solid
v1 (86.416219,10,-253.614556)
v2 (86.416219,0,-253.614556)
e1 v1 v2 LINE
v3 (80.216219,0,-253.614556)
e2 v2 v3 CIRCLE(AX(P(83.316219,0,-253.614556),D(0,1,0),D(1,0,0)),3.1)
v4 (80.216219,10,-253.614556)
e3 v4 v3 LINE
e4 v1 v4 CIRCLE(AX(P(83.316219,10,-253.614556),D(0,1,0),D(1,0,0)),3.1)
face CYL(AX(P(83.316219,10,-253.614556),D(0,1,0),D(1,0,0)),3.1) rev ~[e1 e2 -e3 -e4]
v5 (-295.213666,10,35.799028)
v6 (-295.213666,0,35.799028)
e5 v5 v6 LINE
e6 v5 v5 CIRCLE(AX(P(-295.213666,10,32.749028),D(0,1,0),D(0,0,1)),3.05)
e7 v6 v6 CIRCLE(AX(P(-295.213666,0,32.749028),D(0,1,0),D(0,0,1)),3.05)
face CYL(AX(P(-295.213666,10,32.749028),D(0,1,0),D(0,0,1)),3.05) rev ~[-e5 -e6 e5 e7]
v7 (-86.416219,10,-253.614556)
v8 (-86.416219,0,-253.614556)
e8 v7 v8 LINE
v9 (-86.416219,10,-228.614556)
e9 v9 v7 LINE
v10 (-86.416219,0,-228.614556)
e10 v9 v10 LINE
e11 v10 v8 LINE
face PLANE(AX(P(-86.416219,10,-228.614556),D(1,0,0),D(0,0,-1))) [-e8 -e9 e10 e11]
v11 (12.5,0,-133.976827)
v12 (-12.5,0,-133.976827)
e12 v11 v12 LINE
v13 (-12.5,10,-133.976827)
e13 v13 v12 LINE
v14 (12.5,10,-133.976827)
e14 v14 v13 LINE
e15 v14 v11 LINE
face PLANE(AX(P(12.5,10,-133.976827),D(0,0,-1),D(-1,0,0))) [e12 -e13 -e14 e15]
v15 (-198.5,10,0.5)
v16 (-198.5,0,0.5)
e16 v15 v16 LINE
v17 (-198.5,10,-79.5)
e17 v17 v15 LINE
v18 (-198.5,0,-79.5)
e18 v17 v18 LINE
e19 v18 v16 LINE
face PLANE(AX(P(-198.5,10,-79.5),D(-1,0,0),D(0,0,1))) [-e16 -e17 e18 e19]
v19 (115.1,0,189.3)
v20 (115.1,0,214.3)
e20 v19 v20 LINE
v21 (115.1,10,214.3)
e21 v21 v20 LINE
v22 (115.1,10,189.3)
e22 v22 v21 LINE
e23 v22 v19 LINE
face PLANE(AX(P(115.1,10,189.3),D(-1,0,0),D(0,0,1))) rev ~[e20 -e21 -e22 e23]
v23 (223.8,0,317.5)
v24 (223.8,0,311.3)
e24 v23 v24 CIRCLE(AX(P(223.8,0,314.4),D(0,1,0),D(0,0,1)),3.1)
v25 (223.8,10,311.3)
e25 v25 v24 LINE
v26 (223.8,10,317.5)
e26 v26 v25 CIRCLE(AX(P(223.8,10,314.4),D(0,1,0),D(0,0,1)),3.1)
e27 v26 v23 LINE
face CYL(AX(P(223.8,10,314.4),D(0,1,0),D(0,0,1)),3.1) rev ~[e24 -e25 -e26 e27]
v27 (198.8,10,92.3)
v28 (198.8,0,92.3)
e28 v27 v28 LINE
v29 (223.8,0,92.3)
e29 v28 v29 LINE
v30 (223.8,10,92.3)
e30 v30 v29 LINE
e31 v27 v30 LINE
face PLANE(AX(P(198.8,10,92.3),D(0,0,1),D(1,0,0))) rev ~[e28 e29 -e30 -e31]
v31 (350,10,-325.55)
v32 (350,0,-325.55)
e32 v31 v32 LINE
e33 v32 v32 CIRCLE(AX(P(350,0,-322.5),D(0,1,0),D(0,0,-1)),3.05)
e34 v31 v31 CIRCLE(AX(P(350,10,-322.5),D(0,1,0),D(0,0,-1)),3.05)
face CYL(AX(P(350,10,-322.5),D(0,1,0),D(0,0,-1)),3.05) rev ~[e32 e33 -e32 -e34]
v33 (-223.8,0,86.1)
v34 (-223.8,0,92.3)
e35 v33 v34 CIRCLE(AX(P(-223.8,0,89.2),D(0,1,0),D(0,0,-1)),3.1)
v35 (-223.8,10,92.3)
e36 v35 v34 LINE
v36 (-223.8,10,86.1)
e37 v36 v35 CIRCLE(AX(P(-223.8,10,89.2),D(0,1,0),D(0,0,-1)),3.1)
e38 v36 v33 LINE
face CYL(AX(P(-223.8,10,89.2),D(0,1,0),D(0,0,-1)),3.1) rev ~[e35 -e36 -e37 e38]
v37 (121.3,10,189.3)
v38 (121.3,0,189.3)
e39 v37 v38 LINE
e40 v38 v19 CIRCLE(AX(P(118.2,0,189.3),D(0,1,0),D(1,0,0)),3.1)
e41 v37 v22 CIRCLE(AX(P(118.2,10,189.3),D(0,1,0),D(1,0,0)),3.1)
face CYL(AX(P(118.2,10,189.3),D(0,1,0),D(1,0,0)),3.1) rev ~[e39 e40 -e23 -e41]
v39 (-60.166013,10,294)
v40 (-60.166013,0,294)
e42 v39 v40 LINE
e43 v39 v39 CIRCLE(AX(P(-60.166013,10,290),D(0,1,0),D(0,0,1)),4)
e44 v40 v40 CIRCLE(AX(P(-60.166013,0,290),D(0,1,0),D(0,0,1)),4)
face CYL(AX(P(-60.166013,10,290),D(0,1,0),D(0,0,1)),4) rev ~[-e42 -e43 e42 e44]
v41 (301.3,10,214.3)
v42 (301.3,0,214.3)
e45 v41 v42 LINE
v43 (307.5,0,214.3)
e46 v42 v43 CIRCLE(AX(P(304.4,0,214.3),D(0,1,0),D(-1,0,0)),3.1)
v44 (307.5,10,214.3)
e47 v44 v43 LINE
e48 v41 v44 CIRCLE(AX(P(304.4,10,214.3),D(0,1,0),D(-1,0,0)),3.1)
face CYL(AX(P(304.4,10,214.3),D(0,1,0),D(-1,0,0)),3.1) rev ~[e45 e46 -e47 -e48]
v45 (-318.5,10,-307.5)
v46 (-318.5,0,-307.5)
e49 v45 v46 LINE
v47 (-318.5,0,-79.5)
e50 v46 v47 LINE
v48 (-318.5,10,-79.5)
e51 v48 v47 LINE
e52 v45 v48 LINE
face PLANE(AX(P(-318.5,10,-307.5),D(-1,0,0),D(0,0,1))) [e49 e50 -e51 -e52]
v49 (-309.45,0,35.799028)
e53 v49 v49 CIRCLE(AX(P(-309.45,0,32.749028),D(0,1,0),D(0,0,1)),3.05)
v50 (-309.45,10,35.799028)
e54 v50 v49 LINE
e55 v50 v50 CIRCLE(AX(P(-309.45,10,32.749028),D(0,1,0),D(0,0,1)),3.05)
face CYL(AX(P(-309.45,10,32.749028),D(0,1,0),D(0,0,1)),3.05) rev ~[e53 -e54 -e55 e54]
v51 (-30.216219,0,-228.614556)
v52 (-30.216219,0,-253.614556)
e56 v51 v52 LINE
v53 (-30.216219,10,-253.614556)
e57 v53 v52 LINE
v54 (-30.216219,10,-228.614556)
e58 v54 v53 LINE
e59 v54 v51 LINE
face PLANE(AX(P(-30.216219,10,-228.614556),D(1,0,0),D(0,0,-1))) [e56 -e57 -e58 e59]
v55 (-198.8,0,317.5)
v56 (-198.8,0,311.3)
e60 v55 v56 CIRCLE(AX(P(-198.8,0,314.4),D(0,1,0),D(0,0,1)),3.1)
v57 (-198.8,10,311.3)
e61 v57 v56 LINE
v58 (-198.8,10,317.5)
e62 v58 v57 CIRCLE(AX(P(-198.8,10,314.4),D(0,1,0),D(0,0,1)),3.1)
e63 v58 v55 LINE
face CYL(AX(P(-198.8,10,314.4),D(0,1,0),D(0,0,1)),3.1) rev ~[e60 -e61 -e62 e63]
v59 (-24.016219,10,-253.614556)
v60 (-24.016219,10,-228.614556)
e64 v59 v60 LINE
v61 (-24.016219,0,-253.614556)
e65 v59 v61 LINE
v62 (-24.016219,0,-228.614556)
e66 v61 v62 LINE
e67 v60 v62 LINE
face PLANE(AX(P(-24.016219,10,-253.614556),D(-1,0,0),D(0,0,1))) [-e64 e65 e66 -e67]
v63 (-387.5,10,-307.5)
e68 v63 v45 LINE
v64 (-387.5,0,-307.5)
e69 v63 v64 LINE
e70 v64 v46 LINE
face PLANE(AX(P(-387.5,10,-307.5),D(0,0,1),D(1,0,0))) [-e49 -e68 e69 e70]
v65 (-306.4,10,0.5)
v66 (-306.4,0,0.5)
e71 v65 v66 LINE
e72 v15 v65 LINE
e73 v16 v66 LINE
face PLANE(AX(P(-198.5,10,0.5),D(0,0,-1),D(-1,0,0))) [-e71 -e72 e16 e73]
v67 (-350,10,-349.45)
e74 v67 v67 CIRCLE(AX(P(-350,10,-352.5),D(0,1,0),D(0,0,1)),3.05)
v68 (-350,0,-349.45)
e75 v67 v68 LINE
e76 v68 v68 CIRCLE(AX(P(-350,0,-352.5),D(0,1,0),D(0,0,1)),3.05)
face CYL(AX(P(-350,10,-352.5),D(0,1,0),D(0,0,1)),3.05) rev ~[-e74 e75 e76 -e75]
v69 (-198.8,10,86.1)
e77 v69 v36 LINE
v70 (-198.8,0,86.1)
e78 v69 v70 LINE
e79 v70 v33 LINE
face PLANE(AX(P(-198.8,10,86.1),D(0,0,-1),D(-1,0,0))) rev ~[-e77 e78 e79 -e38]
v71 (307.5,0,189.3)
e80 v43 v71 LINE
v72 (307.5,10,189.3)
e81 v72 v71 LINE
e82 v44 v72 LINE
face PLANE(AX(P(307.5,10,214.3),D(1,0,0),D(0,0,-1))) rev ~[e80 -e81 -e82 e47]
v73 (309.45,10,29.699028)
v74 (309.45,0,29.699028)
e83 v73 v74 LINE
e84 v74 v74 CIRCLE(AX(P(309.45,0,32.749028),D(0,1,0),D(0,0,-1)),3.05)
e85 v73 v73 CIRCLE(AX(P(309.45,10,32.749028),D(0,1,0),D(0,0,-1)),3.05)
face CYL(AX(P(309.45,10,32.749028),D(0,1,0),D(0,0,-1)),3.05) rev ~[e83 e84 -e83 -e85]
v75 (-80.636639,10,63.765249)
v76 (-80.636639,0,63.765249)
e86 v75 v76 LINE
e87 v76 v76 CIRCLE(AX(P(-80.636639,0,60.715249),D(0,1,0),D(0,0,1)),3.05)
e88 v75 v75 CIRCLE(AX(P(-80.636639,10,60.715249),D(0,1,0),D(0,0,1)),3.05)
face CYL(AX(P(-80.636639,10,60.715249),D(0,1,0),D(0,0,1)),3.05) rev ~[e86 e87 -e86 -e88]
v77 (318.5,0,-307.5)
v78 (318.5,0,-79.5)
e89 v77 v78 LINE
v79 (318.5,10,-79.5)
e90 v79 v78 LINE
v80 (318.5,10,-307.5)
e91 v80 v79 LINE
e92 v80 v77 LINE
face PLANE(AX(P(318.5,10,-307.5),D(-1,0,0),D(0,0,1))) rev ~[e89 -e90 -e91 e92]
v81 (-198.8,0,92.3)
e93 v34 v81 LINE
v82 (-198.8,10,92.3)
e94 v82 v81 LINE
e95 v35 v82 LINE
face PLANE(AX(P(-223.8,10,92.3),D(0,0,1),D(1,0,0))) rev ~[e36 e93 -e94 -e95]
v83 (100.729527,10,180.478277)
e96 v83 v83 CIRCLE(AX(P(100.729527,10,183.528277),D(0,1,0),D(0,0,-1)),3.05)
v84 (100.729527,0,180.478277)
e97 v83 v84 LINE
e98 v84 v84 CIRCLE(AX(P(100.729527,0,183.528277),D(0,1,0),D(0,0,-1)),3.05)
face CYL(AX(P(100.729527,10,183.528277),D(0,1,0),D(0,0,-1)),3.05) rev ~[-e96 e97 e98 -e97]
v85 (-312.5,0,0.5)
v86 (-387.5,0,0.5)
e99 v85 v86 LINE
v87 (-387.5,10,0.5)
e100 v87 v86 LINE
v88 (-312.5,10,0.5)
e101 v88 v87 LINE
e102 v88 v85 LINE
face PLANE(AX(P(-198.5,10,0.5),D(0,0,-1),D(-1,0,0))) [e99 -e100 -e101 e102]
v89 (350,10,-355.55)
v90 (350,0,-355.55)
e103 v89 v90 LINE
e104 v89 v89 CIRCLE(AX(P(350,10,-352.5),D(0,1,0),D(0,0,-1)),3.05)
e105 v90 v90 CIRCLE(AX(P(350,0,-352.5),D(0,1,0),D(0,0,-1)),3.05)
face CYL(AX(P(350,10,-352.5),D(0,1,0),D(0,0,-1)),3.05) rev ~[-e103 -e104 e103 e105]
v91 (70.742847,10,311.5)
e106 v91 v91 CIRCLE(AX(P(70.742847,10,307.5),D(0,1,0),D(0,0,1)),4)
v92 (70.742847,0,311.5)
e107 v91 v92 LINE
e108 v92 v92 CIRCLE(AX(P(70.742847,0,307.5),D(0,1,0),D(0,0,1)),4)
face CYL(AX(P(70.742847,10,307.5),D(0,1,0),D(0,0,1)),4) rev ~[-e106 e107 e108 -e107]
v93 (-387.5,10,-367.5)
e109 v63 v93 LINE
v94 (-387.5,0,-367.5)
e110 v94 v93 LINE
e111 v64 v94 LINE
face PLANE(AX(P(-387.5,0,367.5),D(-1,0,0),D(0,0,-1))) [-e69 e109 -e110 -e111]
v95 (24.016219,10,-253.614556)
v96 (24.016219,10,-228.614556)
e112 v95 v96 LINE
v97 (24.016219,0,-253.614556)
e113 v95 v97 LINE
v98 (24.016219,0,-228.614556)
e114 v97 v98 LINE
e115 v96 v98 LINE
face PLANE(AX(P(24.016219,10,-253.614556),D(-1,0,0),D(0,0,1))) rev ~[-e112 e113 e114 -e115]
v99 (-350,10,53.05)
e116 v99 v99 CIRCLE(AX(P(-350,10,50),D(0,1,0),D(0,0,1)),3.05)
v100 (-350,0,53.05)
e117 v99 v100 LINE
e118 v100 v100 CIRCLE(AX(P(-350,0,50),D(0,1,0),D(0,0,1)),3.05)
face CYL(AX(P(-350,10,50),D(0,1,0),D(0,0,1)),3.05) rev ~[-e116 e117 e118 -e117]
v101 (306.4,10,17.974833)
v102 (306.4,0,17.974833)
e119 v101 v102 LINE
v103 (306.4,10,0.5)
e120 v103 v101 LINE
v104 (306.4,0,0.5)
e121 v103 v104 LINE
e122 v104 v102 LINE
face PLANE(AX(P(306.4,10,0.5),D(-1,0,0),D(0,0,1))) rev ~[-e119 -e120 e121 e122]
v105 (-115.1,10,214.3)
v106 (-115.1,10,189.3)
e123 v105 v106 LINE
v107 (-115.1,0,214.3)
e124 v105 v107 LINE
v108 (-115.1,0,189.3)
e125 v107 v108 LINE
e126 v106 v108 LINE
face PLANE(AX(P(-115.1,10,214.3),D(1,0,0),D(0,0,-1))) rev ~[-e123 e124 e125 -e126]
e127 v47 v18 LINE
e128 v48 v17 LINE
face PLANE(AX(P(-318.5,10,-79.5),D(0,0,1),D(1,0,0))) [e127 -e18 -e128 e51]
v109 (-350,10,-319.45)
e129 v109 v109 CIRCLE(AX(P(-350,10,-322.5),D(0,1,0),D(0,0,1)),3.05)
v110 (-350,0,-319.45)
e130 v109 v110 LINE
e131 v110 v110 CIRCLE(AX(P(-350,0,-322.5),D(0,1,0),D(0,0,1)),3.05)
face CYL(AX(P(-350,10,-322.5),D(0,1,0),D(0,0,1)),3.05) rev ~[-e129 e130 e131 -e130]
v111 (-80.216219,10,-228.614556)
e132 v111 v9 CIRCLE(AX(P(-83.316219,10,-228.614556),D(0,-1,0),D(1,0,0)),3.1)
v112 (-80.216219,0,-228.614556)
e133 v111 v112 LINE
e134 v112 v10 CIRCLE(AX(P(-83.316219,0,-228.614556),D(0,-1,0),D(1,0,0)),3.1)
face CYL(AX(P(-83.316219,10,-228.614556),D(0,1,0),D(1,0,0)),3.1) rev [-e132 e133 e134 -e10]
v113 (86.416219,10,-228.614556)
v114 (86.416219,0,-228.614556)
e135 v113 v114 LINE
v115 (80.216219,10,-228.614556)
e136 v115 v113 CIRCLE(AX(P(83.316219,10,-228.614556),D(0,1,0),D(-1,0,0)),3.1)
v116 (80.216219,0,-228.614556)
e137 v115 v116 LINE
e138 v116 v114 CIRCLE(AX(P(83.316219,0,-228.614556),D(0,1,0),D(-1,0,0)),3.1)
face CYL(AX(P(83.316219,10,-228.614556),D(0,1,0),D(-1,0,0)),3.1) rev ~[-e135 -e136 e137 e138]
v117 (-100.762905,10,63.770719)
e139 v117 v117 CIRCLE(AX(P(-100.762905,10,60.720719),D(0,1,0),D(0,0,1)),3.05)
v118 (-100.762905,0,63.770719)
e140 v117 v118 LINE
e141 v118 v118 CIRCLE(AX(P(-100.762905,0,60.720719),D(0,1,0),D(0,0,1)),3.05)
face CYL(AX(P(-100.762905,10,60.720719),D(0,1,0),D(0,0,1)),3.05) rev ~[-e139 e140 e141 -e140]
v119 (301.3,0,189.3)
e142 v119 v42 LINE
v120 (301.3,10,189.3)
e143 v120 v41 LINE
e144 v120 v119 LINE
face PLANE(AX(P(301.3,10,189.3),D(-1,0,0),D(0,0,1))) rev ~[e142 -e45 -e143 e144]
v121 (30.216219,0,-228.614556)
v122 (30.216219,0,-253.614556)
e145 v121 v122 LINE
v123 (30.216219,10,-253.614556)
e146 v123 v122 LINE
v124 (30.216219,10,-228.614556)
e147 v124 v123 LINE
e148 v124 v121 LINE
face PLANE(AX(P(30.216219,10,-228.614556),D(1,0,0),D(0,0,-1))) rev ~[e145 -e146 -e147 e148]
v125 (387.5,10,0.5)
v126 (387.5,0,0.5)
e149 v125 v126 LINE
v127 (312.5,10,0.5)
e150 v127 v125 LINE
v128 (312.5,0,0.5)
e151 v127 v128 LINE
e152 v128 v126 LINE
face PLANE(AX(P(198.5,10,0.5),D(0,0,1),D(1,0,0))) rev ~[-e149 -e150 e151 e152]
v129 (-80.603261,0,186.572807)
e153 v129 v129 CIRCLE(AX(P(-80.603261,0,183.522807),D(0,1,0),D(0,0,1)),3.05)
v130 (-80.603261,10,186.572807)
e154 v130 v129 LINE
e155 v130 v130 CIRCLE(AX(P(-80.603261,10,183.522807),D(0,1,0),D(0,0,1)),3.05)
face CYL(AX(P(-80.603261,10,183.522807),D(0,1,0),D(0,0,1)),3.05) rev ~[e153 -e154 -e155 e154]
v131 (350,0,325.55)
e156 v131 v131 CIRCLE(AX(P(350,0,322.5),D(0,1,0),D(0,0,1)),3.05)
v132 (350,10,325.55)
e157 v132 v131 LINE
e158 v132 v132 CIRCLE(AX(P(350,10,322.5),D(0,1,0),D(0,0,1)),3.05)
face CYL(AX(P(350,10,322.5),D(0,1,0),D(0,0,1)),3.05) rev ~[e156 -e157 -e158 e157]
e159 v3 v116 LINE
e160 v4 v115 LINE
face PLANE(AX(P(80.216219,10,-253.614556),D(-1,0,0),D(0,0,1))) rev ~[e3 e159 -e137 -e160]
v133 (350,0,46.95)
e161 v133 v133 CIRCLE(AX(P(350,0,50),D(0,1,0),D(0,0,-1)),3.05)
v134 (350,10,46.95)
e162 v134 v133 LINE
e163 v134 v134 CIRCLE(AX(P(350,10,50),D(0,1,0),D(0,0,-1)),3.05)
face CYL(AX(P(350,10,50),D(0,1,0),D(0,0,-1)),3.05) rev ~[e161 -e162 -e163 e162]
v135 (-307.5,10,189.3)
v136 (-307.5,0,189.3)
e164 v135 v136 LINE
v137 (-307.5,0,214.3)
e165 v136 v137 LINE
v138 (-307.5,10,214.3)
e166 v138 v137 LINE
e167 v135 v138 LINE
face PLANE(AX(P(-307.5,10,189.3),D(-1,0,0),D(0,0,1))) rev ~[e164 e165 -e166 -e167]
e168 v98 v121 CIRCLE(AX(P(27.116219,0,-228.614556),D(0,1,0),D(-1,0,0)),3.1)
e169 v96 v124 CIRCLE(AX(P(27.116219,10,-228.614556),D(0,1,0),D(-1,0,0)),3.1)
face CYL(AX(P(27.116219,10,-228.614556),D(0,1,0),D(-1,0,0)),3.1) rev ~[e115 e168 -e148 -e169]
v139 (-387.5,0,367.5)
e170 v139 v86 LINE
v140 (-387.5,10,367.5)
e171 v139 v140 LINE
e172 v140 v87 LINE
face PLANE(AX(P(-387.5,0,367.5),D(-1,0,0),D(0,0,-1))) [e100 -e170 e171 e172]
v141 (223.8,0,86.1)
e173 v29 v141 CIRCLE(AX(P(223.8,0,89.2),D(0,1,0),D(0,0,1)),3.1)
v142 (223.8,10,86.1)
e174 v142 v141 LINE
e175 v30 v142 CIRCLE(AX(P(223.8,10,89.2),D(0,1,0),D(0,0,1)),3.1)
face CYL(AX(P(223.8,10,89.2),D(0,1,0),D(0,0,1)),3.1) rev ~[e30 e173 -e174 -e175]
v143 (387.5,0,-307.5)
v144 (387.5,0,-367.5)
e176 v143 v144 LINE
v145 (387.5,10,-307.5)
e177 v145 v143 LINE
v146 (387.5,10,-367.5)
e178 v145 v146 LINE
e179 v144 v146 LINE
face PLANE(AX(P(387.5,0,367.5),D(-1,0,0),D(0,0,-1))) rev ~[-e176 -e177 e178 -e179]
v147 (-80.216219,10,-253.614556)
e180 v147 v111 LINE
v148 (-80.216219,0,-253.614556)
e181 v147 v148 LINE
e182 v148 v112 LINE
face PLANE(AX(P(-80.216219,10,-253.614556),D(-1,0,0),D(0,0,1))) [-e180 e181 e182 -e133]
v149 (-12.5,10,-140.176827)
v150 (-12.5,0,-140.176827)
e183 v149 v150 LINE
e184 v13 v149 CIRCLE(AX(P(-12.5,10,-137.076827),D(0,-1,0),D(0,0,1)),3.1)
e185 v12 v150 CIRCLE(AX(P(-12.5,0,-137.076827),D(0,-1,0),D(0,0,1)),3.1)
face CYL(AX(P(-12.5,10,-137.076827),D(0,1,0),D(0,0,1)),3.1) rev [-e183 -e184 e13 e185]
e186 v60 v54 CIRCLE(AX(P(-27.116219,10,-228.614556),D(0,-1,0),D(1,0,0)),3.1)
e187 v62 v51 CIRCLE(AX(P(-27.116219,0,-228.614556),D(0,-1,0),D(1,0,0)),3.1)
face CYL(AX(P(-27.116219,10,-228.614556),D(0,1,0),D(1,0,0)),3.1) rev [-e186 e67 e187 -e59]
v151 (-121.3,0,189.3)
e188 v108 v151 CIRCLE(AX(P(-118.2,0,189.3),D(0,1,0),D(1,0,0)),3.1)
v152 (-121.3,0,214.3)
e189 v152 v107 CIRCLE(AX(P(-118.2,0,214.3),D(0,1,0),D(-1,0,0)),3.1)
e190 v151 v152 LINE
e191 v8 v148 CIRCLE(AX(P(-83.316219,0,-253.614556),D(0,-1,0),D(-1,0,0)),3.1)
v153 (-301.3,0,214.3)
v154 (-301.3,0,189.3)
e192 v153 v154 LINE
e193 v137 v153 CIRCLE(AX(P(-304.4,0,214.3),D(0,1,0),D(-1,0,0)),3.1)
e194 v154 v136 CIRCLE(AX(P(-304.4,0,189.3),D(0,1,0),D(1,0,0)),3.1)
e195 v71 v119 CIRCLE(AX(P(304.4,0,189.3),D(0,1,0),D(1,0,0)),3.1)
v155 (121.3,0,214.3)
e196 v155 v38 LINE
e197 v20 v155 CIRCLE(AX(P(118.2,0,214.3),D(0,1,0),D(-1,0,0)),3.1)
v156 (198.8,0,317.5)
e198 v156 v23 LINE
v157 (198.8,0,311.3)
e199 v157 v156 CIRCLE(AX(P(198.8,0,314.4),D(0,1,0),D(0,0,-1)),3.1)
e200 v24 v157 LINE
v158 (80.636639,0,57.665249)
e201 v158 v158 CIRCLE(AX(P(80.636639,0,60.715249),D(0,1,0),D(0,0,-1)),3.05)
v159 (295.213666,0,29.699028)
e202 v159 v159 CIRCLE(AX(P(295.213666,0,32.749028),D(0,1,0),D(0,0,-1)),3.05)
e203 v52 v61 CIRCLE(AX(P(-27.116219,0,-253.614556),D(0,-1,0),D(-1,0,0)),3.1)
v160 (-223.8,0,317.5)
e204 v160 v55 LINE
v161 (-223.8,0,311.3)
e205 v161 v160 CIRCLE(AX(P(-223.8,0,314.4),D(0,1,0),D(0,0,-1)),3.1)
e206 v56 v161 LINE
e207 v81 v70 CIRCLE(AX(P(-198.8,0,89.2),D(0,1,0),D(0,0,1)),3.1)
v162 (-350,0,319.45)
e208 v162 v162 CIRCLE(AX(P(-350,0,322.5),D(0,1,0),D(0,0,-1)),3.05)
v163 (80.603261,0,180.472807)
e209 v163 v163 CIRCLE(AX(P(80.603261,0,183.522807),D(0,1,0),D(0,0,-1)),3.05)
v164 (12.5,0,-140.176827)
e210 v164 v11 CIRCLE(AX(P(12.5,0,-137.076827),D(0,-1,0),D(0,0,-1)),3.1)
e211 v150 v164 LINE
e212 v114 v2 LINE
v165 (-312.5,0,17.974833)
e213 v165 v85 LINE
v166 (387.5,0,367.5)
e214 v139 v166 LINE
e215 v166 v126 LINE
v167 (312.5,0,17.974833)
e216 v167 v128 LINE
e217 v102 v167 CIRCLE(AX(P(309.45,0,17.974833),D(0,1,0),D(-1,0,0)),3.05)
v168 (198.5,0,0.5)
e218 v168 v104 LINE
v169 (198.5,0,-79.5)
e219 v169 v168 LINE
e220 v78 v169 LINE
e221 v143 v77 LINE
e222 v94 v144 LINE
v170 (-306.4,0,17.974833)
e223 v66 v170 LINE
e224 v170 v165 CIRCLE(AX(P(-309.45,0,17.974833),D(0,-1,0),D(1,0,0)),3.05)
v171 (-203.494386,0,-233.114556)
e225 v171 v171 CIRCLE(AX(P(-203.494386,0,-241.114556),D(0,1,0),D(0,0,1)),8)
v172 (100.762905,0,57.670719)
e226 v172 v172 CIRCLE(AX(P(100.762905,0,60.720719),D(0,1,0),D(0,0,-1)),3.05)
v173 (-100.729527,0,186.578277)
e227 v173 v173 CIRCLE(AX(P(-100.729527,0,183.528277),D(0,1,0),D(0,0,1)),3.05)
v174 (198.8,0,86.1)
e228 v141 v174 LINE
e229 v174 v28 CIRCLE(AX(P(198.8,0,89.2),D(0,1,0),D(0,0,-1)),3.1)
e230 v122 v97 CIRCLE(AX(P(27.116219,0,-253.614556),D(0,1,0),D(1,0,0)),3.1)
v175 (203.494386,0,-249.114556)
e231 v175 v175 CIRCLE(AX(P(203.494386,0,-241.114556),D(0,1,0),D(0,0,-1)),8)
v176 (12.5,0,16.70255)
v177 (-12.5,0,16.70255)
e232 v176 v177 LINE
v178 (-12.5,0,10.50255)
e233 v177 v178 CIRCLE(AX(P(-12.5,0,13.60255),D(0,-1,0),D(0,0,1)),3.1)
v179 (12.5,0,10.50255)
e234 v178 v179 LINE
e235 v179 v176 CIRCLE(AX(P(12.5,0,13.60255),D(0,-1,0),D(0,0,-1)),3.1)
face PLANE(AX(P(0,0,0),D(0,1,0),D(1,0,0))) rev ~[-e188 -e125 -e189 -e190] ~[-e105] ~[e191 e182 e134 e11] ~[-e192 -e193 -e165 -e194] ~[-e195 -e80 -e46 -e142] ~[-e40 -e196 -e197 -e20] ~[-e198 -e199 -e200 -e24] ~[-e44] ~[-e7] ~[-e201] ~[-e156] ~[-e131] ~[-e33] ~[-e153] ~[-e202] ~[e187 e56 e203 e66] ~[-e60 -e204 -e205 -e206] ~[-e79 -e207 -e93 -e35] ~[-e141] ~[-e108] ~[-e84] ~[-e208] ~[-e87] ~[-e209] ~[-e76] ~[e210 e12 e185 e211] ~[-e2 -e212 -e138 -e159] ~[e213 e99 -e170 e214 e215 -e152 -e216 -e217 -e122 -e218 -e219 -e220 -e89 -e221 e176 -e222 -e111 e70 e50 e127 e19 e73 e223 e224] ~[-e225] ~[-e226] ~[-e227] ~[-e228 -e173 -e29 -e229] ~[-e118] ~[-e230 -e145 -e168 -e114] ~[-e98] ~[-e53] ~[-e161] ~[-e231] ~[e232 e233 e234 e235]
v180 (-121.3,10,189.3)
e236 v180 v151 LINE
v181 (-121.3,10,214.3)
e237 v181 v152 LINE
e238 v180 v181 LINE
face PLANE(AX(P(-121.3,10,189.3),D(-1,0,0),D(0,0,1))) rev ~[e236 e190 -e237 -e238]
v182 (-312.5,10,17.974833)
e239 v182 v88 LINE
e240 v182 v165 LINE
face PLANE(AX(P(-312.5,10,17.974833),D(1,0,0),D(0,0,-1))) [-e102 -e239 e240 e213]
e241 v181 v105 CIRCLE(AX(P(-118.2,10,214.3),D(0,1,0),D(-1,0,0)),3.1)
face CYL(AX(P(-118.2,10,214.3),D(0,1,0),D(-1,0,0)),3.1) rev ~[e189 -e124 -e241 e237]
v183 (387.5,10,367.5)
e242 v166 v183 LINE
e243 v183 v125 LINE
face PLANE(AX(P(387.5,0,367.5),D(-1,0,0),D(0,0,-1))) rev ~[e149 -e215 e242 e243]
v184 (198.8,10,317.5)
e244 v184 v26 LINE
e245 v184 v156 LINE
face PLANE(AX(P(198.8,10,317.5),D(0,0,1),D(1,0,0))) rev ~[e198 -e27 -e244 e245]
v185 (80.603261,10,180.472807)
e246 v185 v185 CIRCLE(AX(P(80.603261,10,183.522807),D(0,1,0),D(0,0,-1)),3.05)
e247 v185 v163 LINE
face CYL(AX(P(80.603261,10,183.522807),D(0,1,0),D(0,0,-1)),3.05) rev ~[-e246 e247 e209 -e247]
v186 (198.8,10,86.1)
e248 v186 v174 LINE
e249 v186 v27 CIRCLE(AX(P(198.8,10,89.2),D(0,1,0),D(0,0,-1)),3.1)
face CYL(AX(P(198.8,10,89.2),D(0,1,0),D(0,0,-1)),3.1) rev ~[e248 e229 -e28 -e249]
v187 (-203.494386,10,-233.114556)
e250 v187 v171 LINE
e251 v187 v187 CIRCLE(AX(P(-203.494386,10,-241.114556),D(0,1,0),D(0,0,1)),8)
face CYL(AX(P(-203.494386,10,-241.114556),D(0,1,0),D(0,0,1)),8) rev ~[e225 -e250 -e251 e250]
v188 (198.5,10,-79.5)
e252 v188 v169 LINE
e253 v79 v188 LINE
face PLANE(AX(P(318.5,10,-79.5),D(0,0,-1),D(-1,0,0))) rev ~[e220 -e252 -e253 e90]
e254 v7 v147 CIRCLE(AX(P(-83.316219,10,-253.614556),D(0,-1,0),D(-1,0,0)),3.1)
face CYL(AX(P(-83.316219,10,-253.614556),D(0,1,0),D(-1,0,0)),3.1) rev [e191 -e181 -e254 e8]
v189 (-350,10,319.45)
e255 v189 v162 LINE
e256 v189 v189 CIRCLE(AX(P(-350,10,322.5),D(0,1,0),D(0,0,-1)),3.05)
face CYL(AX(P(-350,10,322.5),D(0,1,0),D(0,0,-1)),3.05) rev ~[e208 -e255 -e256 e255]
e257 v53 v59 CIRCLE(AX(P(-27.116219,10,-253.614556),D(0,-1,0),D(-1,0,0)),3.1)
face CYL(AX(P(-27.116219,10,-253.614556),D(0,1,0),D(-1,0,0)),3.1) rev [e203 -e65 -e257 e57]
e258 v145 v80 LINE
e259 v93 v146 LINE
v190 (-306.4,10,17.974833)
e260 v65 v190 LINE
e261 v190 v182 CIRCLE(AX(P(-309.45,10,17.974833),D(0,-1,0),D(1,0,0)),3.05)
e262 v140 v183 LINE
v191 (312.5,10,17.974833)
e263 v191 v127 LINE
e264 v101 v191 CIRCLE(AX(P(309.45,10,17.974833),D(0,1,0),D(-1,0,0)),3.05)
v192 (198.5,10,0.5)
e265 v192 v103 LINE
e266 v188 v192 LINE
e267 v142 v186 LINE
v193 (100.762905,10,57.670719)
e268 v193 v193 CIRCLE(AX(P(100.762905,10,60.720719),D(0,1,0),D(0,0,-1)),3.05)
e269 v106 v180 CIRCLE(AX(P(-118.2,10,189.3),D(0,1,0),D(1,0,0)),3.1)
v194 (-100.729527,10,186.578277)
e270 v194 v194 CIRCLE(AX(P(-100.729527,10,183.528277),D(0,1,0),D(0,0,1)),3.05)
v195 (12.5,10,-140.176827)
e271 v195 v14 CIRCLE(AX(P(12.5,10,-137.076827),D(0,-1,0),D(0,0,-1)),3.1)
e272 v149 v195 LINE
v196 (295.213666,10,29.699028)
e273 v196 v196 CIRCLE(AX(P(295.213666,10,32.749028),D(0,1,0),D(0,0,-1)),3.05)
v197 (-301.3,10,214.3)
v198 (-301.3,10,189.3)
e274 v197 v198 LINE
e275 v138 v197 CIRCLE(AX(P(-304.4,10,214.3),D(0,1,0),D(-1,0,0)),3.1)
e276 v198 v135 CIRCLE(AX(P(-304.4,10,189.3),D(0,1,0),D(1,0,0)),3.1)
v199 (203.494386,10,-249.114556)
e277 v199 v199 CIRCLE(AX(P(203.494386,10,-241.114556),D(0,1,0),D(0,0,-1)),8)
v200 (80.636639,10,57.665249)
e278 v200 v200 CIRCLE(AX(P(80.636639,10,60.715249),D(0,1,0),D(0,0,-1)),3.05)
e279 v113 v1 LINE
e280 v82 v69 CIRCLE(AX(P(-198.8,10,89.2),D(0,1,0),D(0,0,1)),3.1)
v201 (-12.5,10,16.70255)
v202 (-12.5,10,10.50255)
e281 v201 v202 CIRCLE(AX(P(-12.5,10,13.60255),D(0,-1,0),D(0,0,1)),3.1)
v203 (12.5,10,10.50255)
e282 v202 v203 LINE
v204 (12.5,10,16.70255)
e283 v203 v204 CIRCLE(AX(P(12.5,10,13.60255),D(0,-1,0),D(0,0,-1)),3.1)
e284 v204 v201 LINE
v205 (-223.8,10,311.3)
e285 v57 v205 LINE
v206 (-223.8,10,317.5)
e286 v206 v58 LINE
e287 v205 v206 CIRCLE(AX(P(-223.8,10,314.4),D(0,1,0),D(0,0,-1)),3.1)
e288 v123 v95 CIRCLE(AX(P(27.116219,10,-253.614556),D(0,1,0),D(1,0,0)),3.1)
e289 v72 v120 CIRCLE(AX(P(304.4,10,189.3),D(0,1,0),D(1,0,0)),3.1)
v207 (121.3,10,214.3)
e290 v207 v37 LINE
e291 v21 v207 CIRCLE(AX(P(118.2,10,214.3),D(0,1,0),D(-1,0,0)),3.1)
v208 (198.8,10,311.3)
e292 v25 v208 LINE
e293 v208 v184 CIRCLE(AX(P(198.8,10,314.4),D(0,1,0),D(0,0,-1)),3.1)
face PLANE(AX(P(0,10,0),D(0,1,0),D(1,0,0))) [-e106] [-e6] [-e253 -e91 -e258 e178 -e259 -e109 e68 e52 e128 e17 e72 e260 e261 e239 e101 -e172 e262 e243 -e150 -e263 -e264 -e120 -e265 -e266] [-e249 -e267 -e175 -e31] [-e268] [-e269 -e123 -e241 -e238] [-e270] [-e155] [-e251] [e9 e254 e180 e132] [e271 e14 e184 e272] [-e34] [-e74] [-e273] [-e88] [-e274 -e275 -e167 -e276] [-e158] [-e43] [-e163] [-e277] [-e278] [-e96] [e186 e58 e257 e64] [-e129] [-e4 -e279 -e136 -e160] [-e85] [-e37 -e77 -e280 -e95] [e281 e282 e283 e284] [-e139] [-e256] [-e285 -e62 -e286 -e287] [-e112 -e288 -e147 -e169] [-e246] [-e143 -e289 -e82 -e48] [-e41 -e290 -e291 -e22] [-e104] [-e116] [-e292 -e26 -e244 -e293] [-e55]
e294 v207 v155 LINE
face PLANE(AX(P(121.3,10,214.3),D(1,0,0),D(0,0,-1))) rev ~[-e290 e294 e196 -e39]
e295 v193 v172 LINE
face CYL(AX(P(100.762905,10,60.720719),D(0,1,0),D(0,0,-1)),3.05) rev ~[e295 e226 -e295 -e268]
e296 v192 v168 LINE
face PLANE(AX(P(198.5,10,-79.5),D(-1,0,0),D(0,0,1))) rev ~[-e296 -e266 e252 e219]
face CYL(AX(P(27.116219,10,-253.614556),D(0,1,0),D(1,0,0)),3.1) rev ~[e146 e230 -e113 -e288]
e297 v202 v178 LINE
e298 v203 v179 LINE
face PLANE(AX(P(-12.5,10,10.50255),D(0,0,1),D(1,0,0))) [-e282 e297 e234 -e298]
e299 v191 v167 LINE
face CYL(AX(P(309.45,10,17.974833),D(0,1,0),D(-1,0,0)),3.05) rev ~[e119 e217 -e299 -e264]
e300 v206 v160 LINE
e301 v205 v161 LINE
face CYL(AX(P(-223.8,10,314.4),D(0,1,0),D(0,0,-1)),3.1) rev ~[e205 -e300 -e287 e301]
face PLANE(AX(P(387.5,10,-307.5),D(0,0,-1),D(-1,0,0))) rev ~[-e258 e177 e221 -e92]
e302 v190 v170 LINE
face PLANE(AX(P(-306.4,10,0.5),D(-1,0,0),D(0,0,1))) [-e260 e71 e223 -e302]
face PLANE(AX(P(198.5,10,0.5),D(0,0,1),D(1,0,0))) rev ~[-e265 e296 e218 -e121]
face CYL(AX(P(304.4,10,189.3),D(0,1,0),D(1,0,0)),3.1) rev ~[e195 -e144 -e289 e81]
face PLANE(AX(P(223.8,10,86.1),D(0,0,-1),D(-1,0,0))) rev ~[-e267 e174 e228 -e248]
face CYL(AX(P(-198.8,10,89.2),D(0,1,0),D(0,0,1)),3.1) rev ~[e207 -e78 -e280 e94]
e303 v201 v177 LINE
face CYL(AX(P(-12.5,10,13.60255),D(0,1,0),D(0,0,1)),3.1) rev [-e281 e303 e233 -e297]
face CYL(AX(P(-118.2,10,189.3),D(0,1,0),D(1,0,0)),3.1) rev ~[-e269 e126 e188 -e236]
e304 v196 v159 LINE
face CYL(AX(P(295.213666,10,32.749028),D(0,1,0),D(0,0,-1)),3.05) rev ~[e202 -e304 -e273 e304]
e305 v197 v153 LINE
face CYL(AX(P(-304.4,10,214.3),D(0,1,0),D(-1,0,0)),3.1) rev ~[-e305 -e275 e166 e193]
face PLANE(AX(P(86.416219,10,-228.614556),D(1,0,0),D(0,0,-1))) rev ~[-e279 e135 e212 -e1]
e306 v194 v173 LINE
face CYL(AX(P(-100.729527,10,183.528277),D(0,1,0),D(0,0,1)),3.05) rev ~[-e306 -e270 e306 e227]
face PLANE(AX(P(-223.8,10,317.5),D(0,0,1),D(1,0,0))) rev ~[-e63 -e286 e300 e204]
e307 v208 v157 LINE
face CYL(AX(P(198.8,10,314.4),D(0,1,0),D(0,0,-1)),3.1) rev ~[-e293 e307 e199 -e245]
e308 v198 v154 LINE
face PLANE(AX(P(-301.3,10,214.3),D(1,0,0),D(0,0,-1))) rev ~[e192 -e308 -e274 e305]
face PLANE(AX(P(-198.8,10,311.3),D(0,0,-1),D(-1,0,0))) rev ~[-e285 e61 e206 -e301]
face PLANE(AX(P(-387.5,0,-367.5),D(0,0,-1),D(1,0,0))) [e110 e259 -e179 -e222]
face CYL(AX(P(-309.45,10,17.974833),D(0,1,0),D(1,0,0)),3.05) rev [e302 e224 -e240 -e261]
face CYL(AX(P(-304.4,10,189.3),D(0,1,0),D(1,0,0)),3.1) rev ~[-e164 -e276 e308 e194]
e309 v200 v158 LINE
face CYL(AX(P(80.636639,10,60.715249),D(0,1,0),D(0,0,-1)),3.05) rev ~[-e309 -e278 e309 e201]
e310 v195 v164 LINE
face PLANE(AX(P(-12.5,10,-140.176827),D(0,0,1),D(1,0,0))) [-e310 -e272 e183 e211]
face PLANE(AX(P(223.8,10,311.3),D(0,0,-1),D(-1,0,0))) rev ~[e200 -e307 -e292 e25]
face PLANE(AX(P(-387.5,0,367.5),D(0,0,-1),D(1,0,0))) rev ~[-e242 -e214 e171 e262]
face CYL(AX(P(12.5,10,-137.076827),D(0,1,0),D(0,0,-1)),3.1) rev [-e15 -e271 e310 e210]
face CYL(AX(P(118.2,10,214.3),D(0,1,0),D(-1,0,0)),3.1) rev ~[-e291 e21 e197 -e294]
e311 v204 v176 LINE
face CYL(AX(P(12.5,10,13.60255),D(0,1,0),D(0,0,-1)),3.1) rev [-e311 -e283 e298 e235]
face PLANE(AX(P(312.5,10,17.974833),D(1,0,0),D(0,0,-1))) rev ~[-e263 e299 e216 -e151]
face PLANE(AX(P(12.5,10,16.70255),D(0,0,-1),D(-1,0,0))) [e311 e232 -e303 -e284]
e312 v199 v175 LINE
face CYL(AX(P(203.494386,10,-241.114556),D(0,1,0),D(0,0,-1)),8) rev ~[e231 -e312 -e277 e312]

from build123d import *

# Parameters (mm, degrees)
SKETCH1_W           = 775
SKETCH1_H           = 735
BOSS_EXTRUDE1_DEPTH = 10
CUT_EXTRUDE1_DEPTH  = 10
SKETCH3_R           = 3.05
CUT_EXTRUDE2_DEPTH  = 10
CUT_EXTRUDE3_DEPTH  = 10
SKETCH5_R           = 4
CUT_EXTRUDE4_DEPTH  = 10
SKETCH6_R           = 3.05
CUT_EXTRUDE5_DEPTH  = 10
SKETCH7_R           = 8
CUT_EXTRUDE6_DEPTH  = 10


with BuildPart() as part:
    # Sketch1 → Boss-Extrude1 (new body)
    with BuildSketch(Plane(origin=(0, 0, 0), x_dir=(1, 0, 0), z_dir=(0, 1, 0))):
        Rectangle(SKETCH1_W, SKETCH1_H)
    extrude(amount=BOSS_EXTRUDE1_DEPTH)

    # Sketch2 → Cut-Extrude1 (cut)
    with BuildSketch(Plane(origin=(0, 10, 0), x_dir=(1, 0, 0), z_dir=(0, 1, 0))):
        Polygon((387.5, 307.5), (318.5, 307.5), (318.5, 79.5), (198.5, 79.5), (198.5, -0.5), (387.5, -0.5), align=None)
        Polygon((-387.5, -0.5), (-387.5, 307.5), (-318.5, 307.5), (-318.5, 79.5), (-198.5, 79.5), (-198.5, -0.5), align=None)
    extrude(amount=-CUT_EXTRUDE1_DEPTH, mode=Mode.SUBTRACT)

    # Sketch3 → Cut-Extrude2 (cut)
    with BuildSketch(Plane(origin=(0, 10, 0), x_dir=(1, 0, 0), z_dir=(0, 1, 0))):
        with Locations(Location((-350, 322.5, 0), (0, 0, 270))):
            Circle(SKETCH3_R)
        with Locations(Location((350, 322.5, 0), (0, 0, 90))):
            Circle(SKETCH3_R)
        with Locations(Location((350, -322.5, 0), (0, 0, 270))):
            Circle(SKETCH3_R)
        with Locations(Location((-350, -322.5, 0), (0, 0, 90))):
            Circle(SKETCH3_R)
        with Locations(Location((350, -50, 0), (0, 0, 90))):
            Circle(SKETCH3_R)
        with Locations(Location((-350, -50, 0), (0, 0, 270))):
            Circle(SKETCH3_R)
        with Locations(Location((-350, 352.5, 0), (0, 0, 270))):
            Circle(SKETCH3_R)
        with Locations(Location((350, 352.5, 0), (0, 0, 90))):
            Circle(SKETCH3_R)
    extrude(amount=-CUT_EXTRUDE2_DEPTH, mode=Mode.SUBTRACT)

    # Sketch4 → Cut-Extrude3 (cut)
    with BuildSketch(Plane(origin=(0, 10, 0), x_dir=(1, 0, 0), z_dir=(0, 1, 0))):
        with BuildLine():
            Line((-301.3, -214.3), (-301.3, -189.3))
            ThreePointArc((-301.3, -189.3), (-304.4, -186.2), (-307.5, -189.3))
            Line((-307.5, -189.3), (-307.5, -214.3))
            ThreePointArc((-307.5, -214.3), (-304.4, -217.4), (-301.3, -214.3))
        make_face()
        with BuildLine():
            Line((-223.8, -92.3), (-198.8, -92.3))
            ThreePointArc((-198.8, -92.3), (-195.7, -89.2), (-198.8, -86.1))
            Line((-198.8, -86.1), (-223.8, -86.1))
            ThreePointArc((-223.8, -86.1), (-226.9, -89.2), (-223.8, -92.3))
        make_face()
        with BuildLine():
            Line((-121.3, -189.3), (-121.3, -214.3))
            ThreePointArc((-121.3, -214.3), (-118.2, -217.4), (-115.1, -214.3))
            Line((-115.1, -214.3), (-115.1, -189.3))
            ThreePointArc((-115.1, -189.3), (-118.2, -186.2), (-121.3, -189.3))
        make_face()
        with BuildLine():
            Line((-198.8, -311.3), (-223.8, -311.3))
            ThreePointArc((-223.8, -311.3), (-226.9, -314.4), (-223.8, -317.5))
            Line((-223.8, -317.5), (-198.8, -317.5))
            ThreePointArc((-198.8, -317.5), (-195.7, -314.4), (-198.8, -311.3))
        make_face()
        with BuildLine():
            Line((198.8, -317.5), (223.8, -317.5))
            ThreePointArc((223.8, -317.5), (226.9, -314.4), (223.8, -311.3))
            Line((223.8, -311.3), (198.8, -311.3))
            ThreePointArc((198.8, -311.3), (195.7, -314.4), (198.8, -317.5))
        make_face()
        with BuildLine():
            Line((115.1, -189.3), (115.1, -214.3))
            ThreePointArc((115.1, -214.3), (118.2, -217.4), (121.3, -214.3))
            Line((121.3, -214.3), (121.3, -189.3))
            ThreePointArc((121.3, -189.3), (118.2, -186.2), (115.1, -189.3))
        make_face()
        with BuildLine():
            Line((223.8, -86.1), (198.8, -86.1))
            ThreePointArc((198.8, -86.1), (195.7, -89.2), (198.8, -92.3))
            Line((198.8, -92.3), (223.8, -92.3))
            ThreePointArc((223.8, -92.3), (226.9, -89.2), (223.8, -86.1))
        make_face()
        with BuildLine():
            Line((307.5, -214.3), (307.5, -189.3))
            ThreePointArc((307.5, -189.3), (304.4, -186.2), (301.3, -189.3))
            Line((301.3, -189.3), (301.3, -214.3))
            ThreePointArc((301.3, -214.3), (304.4, -217.4), (307.5, -214.3))
        make_face()
    extrude(amount=-CUT_EXTRUDE3_DEPTH, mode=Mode.SUBTRACT)

    # Sketch5 → Cut-Extrude4 (cut)
    with BuildSketch(Plane(origin=(0, 10, 0), x_dir=(1, 0, 0), z_dir=(0, 1, 0))):
        with Locations(Location((70.742847262, -307.5, 0), (0, 0, 270))):
            Circle(SKETCH5_R)
        with Locations(Location((-60.166013255, -290, 0), (0, 0, 270))):
            Circle(SKETCH5_R)
    extrude(amount=-CUT_EXTRUDE4_DEPTH, mode=Mode.SUBTRACT)

    # Sketch6 → Cut-Extrude5 (cut)
    with BuildSketch(Plane(origin=(0, 10, 0), x_dir=(1, 0, 0), z_dir=(0, 1, 0))):
        with Locations(Location((-100.729526925, -183.528276794, 0), (0, 0, 270))):
            Circle(SKETCH6_R)
        with Locations(Location((-80.603260731, -183.522806678, 0), (0, 0, 270))):
            Circle(SKETCH6_R)
        with Locations(Location((-100.762904784, -60.720718711, 0), (0, 0, 270))):
            Circle(SKETCH6_R)
        with Locations(Location((-80.636638589, -60.715248594, 0), (0, 0, 270))):
            Circle(SKETCH6_R)
        with Locations(Location((80.636638589, -60.715248594, 0), (0, 0, 90))):
            Circle(SKETCH6_R)
        with Locations(Location((100.762904784, -60.720718711, 0), (0, 0, 90))):
            Circle(SKETCH6_R)
        with Locations(Location((80.603260731, -183.522806678, 0), (0, 0, 90))):
            Circle(SKETCH6_R)
        with Locations(Location((100.729526925, -183.528276794, 0), (0, 0, 90))):
            Circle(SKETCH6_R)
        with Locations(Location((-309.45, -32.749027869, 0), (0, 0, 270))):
            Circle(SKETCH6_R)
        with Locations(Location((-295.213665555, -32.749027869, 0), (0, 0, 270))):
            Circle(SKETCH6_R)
        with Locations(Location((309.45, -32.749027869, 0), (0, 0, 90))):
            Circle(SKETCH6_R)
        with Locations(Location((295.213665555, -32.749027869, 0), (0, 0, 90))):
            Circle(SKETCH6_R)
        with BuildLine():
            Line((-312.5, -17.974833276), (-312.5, -0.5))
            ThreePointArc((-312.5, -0.5), (-309.45, 2.55), (-306.4, -0.5))
            Line((-306.4, -0.5), (-306.4, -17.974833276))
            ThreePointArc((-306.4, -17.974833276), (-309.45, -21.024833276), (-312.5, -17.974833276))
        make_face()
        with BuildLine():
            Line((312.5, -17.974833276), (312.5, -0.5))
            ThreePointArc((312.5, -0.5), (309.45, 2.55), (306.4, -0.5))
            Line((306.4, -0.5), (306.4, -17.974833276))
            ThreePointArc((306.4, -17.974833276), (309.45, -21.024833276), (312.5, -17.974833276))
        make_face()
    extrude(amount=-CUT_EXTRUDE5_DEPTH, mode=Mode.SUBTRACT)

    # Sketch7 → Cut-Extrude6 (cut)
    with BuildSketch(Plane(origin=(0, 10, 0), x_dir=(1, 0, 0), z_dir=(0, 1, 0))):
        with Locations(Location((-203.494386399, 241.114555962, 0), (0, 0, 270))):
            Circle(SKETCH7_R)
        with Locations(Location((203.494386399, 241.114555962, 0), (0, 0, 90))):
            Circle(SKETCH7_R)
        with BuildLine():
            Line((-12.5, -10.502549855), (12.5, -10.502549855))
            ThreePointArc((12.5, -10.502549855), (15.6, -13.602549855), (12.5, -16.702549855))
            Line((12.5, -16.702549855), (-12.5, -16.702549855))
            ThreePointArc((-12.5, -16.702549855), (-15.6, -13.602549855), (-12.5, -10.502549855))
        make_face()
        with BuildLine():
            Line((-12.5, 140.176827164), (12.5, 140.176827164))
            ThreePointArc((12.5, 140.176827164), (15.6, 137.076827164), (12.5, 133.976827164))
            Line((12.5, 133.976827164), (-12.5, 133.976827164))
            ThreePointArc((-12.5, 133.976827164), (-15.6, 137.076827164), (-12.5, 140.176827164))
        make_face()
        with BuildLine():
            Line((-24.016219384, 253.614555962), (-24.016219384, 228.614555962))
            ThreePointArc((-24.016219384, 228.614555962), (-27.116219384, 225.514555962), (-30.216219384, 228.614555962))
            Line((-30.216219384, 228.614555962), (-30.216219384, 253.614555962))
            ThreePointArc((-30.216219384, 253.614555962), (-27.116219384, 256.714555962), (-24.016219384, 253.614555962))
        make_face()
        with BuildLine():
            Line((-80.216219384, 253.614555962), (-80.216219384, 228.614555962))
            ThreePointArc((-80.216219384, 228.614555962), (-83.316219384, 225.514555962), (-86.416219384, 228.614555962))
            Line((-86.416219384, 228.614555962), (-86.416219384, 253.614555962))
            ThreePointArc((-86.416219384, 253.614555962), (-83.316219384, 256.714555962), (-80.216219384, 253.614555962))
        make_face()
        with BuildLine():
            Line((80.216219384, 253.614555962), (80.216219384, 228.614555962))
            ThreePointArc((80.216219384, 228.614555962), (83.316219384, 225.514555962), (86.416219384, 228.614555962))
            Line((86.416219384, 228.614555962), (86.416219384, 253.614555962))
            ThreePointArc((86.416219384, 253.614555962), (83.316219384, 256.714555962), (80.216219384, 253.614555962))
        make_face()
        with BuildLine():
            Line((24.016219384, 253.614555962), (24.016219384, 228.614555962))
            ThreePointArc((24.016219384, 228.614555962), (27.116219384, 225.514555962), (30.216219384, 228.614555962))
            Line((30.216219384, 228.614555962), (30.216219384, 253.614555962))
            ThreePointArc((30.216219384, 253.614555962), (27.116219384, 256.714555962), (24.016219384, 253.614555962))
        make_face()
    extrude(amount=-CUT_EXTRUDE6_DEPTH, mode=Mode.SUBTRACT)


solid = part.part
